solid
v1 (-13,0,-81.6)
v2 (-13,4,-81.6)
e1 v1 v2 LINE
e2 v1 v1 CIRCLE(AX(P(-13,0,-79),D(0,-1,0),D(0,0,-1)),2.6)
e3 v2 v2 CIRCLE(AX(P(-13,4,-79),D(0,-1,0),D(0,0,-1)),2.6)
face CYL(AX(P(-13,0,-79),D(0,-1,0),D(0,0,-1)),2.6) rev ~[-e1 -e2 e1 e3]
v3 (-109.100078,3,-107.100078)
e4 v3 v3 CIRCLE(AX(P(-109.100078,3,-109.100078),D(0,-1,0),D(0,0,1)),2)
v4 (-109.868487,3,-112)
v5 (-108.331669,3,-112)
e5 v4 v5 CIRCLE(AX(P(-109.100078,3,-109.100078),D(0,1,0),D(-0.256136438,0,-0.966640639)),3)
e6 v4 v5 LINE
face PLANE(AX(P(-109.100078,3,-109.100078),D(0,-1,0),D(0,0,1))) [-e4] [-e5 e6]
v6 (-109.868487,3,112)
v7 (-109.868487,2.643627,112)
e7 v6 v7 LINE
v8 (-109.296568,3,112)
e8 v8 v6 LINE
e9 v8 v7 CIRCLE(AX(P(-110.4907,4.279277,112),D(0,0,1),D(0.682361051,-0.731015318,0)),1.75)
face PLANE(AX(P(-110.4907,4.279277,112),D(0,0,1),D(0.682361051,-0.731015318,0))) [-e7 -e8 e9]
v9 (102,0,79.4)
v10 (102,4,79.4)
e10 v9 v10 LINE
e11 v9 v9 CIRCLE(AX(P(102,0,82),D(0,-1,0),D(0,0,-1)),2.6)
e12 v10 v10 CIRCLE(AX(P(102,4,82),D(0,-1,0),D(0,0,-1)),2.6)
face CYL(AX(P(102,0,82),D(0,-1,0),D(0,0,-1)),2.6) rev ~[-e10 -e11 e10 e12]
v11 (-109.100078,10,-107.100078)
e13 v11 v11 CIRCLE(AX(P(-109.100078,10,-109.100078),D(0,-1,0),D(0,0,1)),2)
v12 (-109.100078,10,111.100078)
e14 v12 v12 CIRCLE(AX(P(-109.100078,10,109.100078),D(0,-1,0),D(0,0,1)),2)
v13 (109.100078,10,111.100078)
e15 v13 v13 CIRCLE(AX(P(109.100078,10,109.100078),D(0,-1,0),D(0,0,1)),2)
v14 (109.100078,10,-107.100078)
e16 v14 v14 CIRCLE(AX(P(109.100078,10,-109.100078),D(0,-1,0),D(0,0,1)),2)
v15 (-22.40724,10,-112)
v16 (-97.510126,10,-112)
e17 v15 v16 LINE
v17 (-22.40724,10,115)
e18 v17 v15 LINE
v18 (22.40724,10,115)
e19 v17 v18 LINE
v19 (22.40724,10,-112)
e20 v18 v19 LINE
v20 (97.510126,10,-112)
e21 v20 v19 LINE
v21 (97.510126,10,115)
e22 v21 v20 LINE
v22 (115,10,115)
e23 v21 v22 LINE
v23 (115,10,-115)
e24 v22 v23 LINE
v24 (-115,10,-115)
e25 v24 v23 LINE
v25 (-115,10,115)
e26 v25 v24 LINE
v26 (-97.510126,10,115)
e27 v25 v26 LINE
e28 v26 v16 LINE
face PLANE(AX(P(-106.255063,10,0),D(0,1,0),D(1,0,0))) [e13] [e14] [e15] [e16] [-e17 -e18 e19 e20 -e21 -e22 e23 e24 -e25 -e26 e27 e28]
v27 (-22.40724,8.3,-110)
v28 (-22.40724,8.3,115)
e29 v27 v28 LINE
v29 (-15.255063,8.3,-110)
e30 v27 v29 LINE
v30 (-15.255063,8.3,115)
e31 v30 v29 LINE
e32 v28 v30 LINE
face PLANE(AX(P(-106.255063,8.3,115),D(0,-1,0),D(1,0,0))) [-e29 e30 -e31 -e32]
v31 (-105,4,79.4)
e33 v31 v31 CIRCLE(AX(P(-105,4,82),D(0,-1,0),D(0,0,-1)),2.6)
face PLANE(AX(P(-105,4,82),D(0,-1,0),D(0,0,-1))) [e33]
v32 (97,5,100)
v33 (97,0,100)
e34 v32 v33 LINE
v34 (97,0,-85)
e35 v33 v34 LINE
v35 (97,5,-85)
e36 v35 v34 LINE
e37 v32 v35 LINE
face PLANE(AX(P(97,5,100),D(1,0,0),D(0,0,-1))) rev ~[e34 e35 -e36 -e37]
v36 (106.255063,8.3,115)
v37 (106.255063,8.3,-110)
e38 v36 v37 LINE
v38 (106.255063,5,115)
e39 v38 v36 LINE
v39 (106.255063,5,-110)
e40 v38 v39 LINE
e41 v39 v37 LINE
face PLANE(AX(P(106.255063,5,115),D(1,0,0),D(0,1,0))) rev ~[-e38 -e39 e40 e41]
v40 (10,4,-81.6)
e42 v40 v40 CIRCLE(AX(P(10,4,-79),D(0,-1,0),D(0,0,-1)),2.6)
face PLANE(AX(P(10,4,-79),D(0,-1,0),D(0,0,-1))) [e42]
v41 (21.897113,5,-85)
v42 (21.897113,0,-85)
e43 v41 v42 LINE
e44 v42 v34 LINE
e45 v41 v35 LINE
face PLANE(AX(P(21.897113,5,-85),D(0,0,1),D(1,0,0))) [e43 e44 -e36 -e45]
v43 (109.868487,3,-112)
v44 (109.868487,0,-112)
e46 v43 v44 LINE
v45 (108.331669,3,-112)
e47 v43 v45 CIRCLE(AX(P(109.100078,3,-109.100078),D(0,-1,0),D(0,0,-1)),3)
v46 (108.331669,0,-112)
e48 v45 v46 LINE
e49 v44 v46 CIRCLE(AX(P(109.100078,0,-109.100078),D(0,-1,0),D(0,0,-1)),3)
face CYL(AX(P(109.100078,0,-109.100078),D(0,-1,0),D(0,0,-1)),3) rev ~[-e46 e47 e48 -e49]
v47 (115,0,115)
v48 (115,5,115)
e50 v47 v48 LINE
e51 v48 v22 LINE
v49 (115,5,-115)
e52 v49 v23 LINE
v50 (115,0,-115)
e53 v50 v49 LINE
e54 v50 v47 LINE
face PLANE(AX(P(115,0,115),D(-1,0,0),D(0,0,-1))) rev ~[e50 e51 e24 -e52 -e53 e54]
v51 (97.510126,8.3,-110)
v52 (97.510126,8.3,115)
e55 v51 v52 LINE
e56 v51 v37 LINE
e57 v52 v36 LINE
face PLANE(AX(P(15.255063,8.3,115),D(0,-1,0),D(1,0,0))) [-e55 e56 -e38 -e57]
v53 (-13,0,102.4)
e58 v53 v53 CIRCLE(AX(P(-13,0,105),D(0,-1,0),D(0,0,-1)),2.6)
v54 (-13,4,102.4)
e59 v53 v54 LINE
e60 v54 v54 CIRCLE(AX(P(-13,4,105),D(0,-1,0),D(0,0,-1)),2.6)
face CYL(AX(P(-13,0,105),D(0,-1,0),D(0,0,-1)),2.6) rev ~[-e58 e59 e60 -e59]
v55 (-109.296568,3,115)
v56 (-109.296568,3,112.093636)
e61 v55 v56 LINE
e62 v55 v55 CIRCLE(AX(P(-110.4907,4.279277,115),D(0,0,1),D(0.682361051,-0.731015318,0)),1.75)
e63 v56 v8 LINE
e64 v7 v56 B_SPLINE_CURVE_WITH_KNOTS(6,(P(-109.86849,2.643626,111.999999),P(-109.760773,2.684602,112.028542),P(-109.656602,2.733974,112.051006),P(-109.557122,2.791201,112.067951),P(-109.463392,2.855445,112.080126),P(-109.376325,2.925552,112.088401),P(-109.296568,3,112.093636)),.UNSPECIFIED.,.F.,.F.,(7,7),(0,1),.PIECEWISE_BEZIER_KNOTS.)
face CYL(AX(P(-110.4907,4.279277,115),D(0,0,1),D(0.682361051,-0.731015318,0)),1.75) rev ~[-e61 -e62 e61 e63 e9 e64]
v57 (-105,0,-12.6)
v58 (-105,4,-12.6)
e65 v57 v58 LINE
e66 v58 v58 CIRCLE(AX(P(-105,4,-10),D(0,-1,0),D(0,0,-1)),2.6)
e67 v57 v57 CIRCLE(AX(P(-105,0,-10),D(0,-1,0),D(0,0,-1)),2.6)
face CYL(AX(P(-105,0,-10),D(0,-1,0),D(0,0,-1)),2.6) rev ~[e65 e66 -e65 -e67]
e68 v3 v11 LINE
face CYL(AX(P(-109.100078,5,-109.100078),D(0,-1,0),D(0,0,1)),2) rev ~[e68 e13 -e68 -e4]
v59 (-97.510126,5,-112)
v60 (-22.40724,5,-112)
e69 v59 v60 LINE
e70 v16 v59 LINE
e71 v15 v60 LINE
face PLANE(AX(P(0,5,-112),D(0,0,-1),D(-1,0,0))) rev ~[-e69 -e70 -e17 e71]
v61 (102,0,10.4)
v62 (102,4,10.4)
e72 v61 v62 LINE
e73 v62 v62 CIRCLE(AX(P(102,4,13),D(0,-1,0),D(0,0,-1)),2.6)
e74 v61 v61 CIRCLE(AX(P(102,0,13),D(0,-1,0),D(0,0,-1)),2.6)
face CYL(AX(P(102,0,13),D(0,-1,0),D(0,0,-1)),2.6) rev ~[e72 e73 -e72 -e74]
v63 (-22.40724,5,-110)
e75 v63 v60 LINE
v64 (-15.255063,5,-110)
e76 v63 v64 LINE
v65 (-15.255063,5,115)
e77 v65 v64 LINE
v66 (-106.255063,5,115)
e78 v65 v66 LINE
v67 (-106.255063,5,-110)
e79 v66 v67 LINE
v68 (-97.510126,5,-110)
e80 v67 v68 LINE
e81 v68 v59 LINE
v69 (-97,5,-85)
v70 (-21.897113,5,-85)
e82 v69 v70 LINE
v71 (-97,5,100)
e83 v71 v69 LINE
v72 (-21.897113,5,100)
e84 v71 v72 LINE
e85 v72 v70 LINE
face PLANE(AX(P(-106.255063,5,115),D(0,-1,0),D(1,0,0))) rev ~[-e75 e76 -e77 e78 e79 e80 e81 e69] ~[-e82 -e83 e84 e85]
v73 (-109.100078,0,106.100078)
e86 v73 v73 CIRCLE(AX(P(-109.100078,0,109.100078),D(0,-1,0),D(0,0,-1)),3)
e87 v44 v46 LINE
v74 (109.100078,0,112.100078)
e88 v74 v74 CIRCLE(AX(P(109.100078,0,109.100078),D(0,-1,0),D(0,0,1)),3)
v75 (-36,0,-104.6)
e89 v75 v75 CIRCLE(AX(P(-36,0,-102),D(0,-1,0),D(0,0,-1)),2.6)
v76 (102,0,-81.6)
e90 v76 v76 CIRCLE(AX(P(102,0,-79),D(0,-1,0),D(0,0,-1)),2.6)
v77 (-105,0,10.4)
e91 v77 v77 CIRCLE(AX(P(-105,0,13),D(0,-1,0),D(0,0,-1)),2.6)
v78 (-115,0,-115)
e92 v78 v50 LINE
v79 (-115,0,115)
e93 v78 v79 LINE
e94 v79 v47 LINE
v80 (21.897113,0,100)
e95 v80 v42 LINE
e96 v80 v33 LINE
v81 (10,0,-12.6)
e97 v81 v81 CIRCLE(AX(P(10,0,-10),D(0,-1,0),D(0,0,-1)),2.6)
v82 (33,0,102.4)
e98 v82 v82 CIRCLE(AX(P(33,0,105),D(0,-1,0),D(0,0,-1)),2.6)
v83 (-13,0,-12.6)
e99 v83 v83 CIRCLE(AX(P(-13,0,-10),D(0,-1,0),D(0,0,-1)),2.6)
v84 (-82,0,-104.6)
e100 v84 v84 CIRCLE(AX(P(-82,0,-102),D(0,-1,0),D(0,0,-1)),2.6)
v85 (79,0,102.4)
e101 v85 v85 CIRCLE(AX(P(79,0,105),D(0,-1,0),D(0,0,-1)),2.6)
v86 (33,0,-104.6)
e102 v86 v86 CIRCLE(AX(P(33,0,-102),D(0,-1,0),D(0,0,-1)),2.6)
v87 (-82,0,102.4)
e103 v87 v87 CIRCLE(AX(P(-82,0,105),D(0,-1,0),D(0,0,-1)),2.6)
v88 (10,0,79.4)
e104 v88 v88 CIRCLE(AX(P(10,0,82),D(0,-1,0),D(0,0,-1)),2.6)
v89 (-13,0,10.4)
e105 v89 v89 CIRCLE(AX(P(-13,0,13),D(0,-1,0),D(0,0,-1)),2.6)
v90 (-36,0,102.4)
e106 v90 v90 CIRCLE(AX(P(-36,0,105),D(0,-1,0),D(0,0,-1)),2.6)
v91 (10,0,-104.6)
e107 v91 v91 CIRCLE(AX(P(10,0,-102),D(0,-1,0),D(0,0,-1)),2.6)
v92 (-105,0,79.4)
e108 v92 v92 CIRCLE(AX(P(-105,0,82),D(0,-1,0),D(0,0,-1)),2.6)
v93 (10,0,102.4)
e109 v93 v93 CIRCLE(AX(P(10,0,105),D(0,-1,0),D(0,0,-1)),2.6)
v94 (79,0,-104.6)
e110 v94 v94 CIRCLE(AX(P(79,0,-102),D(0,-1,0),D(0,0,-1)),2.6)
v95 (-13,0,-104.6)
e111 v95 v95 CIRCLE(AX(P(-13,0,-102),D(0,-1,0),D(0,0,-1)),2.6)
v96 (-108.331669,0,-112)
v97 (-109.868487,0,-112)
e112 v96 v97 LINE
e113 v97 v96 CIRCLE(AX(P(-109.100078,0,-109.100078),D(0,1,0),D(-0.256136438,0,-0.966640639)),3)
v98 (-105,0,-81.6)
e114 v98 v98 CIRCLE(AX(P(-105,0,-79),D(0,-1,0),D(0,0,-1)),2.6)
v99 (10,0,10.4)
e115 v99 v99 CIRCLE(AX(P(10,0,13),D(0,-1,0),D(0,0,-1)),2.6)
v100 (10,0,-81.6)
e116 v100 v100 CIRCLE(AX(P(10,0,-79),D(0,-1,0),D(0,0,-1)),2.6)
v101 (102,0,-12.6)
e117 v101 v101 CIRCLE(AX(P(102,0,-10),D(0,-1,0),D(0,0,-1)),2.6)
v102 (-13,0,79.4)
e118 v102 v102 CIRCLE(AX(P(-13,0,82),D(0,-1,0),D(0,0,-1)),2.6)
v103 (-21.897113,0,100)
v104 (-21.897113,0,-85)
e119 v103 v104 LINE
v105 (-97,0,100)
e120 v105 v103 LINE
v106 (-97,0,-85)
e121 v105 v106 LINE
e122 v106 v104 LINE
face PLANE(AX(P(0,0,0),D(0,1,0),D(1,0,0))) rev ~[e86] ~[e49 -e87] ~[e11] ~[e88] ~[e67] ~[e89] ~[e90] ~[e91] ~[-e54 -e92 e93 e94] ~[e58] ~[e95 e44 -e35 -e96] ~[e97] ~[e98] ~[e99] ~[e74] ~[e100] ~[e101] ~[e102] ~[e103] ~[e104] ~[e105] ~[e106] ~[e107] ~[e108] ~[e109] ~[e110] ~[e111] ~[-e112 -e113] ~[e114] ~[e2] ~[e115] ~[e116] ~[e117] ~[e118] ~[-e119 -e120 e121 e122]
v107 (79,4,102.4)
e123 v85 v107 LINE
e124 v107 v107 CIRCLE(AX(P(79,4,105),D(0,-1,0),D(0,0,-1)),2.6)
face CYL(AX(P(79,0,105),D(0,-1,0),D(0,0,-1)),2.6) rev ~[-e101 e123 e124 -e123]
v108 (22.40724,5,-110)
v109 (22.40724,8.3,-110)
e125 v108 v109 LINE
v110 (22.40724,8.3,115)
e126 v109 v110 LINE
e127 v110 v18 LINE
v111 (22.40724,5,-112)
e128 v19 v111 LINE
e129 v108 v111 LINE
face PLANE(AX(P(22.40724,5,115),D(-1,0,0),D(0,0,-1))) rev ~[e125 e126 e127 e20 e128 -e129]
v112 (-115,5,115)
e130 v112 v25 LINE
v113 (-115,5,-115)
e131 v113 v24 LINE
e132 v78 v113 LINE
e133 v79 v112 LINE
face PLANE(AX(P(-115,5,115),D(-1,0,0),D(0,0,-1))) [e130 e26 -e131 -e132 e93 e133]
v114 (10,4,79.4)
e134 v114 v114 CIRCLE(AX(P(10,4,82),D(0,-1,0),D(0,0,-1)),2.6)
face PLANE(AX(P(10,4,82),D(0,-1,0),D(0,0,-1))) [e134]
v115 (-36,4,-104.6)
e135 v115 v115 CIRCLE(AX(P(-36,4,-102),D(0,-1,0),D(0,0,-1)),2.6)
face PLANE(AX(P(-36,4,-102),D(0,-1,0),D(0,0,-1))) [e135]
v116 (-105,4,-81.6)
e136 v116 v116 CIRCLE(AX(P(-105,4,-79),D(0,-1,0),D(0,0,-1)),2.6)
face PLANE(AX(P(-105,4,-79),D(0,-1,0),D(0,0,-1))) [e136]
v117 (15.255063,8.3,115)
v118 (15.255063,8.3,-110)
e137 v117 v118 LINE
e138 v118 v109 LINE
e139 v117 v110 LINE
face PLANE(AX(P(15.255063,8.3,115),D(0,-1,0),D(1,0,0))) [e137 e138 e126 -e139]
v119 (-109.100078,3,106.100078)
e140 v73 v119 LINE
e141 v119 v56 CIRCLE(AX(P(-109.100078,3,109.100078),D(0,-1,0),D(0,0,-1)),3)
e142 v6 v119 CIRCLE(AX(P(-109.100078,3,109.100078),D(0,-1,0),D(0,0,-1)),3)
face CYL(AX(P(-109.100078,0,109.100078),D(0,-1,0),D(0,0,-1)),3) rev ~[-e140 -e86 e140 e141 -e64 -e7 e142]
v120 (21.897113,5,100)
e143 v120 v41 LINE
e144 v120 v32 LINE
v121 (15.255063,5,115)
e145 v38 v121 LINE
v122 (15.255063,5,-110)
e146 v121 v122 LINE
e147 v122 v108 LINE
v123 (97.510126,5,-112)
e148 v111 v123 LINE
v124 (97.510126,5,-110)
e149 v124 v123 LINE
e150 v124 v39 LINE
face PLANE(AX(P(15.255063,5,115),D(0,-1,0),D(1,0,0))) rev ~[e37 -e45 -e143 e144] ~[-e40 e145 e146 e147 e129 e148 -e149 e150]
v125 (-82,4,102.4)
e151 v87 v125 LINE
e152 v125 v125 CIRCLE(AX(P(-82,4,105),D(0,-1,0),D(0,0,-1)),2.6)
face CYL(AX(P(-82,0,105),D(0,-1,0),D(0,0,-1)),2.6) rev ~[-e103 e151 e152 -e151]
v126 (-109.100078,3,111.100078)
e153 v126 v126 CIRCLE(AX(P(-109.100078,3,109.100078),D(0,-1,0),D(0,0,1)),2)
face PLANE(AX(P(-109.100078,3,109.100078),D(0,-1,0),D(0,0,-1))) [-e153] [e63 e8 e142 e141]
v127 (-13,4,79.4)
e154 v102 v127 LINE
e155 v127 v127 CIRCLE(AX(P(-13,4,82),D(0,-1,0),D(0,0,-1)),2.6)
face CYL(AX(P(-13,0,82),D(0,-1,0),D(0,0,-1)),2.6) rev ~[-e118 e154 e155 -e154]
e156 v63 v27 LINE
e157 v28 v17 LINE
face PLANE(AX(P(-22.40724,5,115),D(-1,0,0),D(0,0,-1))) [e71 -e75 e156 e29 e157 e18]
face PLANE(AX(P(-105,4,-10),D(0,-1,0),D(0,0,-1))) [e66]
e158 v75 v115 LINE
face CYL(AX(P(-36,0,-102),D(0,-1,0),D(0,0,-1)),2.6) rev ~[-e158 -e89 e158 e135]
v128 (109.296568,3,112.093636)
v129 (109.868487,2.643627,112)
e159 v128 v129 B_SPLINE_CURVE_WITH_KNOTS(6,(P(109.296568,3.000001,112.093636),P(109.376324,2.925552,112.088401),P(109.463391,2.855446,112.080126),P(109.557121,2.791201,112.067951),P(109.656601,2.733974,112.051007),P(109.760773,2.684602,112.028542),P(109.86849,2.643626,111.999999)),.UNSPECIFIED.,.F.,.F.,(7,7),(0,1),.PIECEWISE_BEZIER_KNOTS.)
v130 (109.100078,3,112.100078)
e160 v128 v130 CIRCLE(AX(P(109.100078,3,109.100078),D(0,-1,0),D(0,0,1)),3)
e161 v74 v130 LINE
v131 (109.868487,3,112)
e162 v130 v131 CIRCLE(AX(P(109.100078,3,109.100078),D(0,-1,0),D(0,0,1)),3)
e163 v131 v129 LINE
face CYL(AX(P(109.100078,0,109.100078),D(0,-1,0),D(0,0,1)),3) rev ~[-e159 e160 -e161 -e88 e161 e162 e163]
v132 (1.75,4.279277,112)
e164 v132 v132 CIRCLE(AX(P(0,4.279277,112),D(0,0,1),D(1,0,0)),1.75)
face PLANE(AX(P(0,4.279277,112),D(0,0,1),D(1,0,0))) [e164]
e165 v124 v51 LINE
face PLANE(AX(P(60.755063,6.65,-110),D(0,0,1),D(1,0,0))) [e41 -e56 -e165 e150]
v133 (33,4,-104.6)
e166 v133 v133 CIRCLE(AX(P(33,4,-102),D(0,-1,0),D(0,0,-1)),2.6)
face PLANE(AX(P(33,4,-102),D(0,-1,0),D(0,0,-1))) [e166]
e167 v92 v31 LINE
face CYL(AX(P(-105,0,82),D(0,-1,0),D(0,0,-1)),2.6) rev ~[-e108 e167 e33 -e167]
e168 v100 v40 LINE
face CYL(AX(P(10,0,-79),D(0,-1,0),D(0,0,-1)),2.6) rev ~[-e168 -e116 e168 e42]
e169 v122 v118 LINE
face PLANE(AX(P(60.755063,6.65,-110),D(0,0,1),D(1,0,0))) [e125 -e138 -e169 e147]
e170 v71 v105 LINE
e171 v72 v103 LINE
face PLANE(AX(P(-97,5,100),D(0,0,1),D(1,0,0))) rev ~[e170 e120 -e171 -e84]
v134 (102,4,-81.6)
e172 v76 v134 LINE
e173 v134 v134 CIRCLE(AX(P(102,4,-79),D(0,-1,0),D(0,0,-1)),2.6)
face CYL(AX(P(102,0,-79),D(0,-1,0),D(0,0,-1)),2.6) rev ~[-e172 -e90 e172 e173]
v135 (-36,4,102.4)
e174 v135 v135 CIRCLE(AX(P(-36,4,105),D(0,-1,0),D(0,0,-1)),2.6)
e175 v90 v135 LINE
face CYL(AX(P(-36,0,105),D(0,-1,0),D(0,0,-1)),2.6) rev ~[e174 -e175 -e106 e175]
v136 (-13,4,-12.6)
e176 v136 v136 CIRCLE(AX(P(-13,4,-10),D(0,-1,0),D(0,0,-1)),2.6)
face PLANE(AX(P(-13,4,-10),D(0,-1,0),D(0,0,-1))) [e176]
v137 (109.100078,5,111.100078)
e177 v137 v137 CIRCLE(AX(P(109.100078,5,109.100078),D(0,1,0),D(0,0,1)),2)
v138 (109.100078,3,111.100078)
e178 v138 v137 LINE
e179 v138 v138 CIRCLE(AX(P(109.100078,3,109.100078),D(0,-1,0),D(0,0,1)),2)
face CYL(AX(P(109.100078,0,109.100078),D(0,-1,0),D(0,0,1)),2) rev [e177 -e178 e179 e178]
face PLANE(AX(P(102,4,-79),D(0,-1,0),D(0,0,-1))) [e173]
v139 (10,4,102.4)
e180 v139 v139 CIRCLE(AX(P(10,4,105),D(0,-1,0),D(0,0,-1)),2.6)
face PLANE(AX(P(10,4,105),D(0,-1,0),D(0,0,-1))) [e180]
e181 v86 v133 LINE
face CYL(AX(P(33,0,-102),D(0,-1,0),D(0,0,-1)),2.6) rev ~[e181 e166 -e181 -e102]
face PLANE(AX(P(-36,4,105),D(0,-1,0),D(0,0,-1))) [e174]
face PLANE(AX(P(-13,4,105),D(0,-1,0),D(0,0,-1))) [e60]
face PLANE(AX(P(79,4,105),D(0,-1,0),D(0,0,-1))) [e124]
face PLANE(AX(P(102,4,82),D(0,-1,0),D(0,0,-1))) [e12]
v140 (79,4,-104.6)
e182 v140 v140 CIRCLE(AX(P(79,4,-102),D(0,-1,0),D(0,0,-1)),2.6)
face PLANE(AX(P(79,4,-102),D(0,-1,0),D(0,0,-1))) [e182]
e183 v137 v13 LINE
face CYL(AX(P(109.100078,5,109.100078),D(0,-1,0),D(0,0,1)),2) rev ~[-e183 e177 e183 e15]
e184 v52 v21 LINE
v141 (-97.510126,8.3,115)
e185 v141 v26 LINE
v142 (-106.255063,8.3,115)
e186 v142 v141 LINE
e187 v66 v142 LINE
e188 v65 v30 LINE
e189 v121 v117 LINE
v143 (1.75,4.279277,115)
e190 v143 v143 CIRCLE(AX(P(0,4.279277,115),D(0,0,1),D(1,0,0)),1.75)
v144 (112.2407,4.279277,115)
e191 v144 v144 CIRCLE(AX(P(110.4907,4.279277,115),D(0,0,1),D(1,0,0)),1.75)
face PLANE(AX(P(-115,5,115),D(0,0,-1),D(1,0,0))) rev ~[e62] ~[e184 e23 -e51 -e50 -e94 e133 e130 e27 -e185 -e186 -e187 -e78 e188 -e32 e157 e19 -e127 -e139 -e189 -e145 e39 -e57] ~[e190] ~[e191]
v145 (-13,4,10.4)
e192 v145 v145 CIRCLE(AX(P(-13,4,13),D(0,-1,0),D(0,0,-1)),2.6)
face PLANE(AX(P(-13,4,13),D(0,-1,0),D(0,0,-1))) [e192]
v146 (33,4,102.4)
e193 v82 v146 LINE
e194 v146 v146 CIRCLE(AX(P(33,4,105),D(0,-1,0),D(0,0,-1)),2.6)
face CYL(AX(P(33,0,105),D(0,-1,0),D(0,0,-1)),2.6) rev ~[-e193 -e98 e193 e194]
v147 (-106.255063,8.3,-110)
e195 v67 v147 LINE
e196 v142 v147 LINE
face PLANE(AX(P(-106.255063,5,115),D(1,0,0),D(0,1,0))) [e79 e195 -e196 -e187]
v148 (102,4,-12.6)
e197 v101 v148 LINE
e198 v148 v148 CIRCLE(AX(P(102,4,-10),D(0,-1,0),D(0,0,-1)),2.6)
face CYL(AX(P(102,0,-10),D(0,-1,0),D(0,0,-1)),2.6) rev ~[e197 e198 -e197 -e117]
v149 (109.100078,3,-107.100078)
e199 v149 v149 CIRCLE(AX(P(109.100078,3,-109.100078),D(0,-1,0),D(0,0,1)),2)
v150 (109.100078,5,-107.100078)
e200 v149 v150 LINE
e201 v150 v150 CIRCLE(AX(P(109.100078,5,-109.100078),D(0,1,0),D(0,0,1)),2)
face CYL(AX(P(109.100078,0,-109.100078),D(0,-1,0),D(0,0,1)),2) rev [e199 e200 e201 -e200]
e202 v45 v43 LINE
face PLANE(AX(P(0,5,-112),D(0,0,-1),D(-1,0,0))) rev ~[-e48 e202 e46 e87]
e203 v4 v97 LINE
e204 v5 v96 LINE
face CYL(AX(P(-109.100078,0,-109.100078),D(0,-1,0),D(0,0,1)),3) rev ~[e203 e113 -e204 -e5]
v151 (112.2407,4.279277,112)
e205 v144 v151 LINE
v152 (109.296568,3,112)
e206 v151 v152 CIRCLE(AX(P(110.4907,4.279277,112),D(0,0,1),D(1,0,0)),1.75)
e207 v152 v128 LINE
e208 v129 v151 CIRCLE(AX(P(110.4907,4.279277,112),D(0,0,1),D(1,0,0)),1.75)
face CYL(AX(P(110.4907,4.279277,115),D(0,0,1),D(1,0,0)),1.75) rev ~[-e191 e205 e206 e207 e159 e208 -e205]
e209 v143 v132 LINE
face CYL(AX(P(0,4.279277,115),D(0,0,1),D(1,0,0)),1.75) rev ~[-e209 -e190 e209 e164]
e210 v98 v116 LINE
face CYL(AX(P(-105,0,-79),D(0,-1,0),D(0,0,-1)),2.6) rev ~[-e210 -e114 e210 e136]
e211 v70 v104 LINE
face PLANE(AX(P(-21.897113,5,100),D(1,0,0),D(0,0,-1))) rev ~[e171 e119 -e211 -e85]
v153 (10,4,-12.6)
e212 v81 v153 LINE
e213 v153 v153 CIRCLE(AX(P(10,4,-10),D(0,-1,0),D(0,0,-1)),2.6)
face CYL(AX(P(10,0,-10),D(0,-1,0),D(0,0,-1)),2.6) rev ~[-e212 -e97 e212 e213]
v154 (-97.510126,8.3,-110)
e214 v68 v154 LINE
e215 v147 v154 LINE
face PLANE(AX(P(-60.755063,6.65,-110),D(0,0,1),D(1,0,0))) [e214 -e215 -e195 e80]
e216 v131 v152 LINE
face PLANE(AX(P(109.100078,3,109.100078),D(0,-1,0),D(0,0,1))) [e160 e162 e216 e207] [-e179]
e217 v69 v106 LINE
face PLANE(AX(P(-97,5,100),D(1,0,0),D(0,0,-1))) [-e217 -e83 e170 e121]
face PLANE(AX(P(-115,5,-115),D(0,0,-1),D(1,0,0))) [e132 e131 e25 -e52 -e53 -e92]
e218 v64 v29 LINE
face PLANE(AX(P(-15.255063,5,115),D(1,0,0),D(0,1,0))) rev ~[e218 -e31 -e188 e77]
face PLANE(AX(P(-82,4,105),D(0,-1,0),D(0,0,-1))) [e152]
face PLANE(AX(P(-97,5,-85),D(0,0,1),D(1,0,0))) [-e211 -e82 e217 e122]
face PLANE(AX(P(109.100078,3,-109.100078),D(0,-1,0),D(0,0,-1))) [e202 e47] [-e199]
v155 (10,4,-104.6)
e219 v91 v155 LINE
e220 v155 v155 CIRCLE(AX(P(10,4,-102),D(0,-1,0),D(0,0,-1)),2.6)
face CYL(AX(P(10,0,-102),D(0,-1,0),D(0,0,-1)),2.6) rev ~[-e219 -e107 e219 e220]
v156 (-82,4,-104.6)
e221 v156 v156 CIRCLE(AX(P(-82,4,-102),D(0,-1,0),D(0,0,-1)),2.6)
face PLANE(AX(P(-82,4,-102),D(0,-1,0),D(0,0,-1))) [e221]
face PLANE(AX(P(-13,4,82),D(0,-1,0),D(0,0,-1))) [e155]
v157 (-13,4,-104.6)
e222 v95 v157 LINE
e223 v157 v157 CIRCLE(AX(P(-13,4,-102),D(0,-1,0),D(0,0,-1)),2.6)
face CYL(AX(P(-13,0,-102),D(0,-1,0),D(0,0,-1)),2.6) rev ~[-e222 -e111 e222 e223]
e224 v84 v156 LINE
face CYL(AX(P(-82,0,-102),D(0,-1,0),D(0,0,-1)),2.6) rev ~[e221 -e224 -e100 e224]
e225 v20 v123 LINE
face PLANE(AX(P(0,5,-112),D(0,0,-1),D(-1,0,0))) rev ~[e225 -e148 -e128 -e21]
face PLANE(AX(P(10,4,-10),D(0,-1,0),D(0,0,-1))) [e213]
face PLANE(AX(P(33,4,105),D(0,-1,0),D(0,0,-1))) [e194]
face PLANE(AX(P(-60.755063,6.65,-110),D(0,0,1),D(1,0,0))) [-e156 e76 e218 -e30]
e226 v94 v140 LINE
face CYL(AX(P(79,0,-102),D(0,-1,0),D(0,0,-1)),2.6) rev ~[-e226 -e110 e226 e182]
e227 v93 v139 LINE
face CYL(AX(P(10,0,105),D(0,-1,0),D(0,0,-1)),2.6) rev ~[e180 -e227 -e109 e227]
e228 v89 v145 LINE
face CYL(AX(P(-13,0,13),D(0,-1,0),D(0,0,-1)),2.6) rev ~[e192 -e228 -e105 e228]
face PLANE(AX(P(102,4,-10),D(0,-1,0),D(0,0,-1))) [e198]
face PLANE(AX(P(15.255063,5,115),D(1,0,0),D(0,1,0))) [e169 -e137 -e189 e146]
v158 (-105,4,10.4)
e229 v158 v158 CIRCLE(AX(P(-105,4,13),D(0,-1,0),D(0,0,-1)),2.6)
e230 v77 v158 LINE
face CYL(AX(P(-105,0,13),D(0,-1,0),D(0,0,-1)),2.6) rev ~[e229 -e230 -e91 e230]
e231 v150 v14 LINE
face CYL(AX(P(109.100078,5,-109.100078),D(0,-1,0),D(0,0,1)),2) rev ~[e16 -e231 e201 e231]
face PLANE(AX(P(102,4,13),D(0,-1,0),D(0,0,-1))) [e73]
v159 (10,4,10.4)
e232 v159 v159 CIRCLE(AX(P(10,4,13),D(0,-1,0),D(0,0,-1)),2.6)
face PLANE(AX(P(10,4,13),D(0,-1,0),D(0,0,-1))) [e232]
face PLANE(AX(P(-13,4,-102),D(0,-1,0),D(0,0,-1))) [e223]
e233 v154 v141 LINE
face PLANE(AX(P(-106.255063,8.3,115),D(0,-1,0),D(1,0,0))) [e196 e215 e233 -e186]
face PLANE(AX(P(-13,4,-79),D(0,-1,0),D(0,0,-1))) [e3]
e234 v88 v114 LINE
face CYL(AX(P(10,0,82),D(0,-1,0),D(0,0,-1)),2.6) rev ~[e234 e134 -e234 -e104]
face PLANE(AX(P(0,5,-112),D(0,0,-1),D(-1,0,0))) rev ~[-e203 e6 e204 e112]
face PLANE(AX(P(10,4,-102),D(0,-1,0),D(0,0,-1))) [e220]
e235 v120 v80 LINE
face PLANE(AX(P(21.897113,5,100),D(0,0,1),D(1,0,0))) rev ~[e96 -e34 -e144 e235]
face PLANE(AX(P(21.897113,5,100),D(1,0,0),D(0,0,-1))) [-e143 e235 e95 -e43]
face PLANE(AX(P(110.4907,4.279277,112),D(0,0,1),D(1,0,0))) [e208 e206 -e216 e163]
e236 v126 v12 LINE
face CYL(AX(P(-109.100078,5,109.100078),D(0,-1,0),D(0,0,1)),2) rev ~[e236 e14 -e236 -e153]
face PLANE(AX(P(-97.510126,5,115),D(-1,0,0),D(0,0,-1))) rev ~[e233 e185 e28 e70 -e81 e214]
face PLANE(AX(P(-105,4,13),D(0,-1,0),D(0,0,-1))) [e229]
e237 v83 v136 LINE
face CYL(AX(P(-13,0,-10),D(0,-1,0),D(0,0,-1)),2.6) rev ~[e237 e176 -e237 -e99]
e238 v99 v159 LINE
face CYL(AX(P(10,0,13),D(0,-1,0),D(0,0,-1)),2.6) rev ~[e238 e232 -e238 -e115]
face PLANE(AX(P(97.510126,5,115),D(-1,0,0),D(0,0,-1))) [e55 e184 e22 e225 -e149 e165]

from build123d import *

# Parameters (mm, degrees)
CROQUIS1_W              = 230
CROQUIS1_H              = 230
CROQUIS1_R              = 2
SALIENTE_EXTRUIR1_DEPTH = 5
CROQUIS2_W              = 17.489873555
CROQUIS2_H              = 230
CROQUIS2_W_2            = 44.814479666
SALIENTE_EXTRUIR2_DEPTH = 5
CROQUIS3_W              = 91
CROQUIS3_H              = 3.3
CORTAR_EXTRUIR1_DEPTH   = 225
CROQUIS4_W              = 75.102886612
CROQUIS4_H              = 185
CORTAR_EXTRUIR2_DEPTH   = 256
CROQUIS5_R              = 2.6
CORTAR_EXTRUIR3_DEPTH   = 4
CROQUIS13_R             = 2
CORTAR_EXTRUIR5_DEPTH   = 88
CROQUIS14_R             = 3
CORTAR_EXTRUIR6_DEPTH   = 3
CROQUIS16_R             = 1.75
CORTAR_EXTRUIR7_DEPTH   = 3
CROQUIS18_W             = 230
CROQUIS18_H             = 10
SALIENTE_EXTRUIR4_DEPTH = 3


with BuildPart() as part:
    # Croquis1 → Saliente-Extruir1 (new body)
    with BuildSketch(Plane(origin=(0, 0, 0), x_dir=(1, 0, 0), z_dir=(0, 1, 0))):
        Rectangle(CROQUIS1_W, CROQUIS1_H)
        with Locations(Location((109.100078083, 109.100078083, 0), (0, 0, 270))):
            Circle(CROQUIS1_R, mode=Mode.SUBTRACT)
        with Locations(Location((-109.100078083, 109.100078083, 0), (0, 0, 270))):
            Circle(CROQUIS1_R, mode=Mode.SUBTRACT)
        with Locations(Location((-109.100078083, -109.100078083, 0), (0, 0, 270))):
            Circle(CROQUIS1_R, mode=Mode.SUBTRACT)
        with Locations(Location((109.100078083, -109.100078083, 0), (0, 0, 270))):
            Circle(CROQUIS1_R, mode=Mode.SUBTRACT)
    extrude(amount=SALIENTE_EXTRUIR1_DEPTH)

    # Croquis2 → Saliente-Extruir2 (add)
    with BuildSketch(Plane(origin=(0, 5, 0), x_dir=(1, 0, 0), z_dir=(0, 1, 0))):
        with Locations((-106.255063223, 0)):
            Rectangle(CROQUIS2_W, CROQUIS2_H)
        Rectangle(CROQUIS2_W_2, CROQUIS2_H)
        with Locations((106.255063223, 0)):
            Rectangle(CROQUIS2_W, CROQUIS2_H)
    extrude(amount=SALIENTE_EXTRUIR2_DEPTH)

    # Croquis3 → Cortar-Extruir1 (cut)
    with BuildSketch(Plane.XY.offset(115)):
        with Locations((-60.755063223, 6.65)):
            Rectangle(CROQUIS3_W, CROQUIS3_H)
        with Locations((60.755063223, 6.65)):
            Rectangle(CROQUIS3_W, CROQUIS3_H)
    extrude(amount=-CORTAR_EXTRUIR1_DEPTH, mode=Mode.SUBTRACT)

    # Croquis4 → Cortar-Extruir2 (cut)
    with BuildSketch(Plane(origin=(0, 5, 0), x_dir=(1, 0, 0), z_dir=(0, 1, 0))):
        with Locations((-59.448556694, -7.5)):
            Rectangle(CROQUIS4_W, CROQUIS4_H)
        with Locations((59.448556694, -7.5)):
            Rectangle(CROQUIS4_W, CROQUIS4_H)
    extrude(amount=-CORTAR_EXTRUIR2_DEPTH, mode=Mode.SUBTRACT)

    # Croquis5 → Cortar-Extruir3 (cut)
    with BuildSketch(Plane.XZ):
        with Locations(Location((-82, 105, 0), (0, 0, 270))):
            Circle(CROQUIS5_R)
        with Locations(Location((-36, 105, 0), (0, 0, 270))):
            Circle(CROQUIS5_R)
        with Locations(Location((-13, 105, 0), (0, 0, 270))):
            Circle(CROQUIS5_R)
        with Locations(Location((10, 105, 0), (0, 0, 270))):
            Circle(CROQUIS5_R)
        with Locations(Location((33, 105, 0), (0, 0, 270))):
            Circle(CROQUIS5_R)
        with Locations(Location((79, 105, 0), (0, 0, 270))):
            Circle(CROQUIS5_R)
        with Locations(Location((-13, 82, 0), (0, 0, 270))):
            Circle(CROQUIS5_R)
        with Locations(Location((10, 82, 0), (0, 0, 270))):
            Circle(CROQUIS5_R)
        with Locations(Location((102, 82, 0), (0, 0, 270))):
            Circle(CROQUIS5_R)
        with Locations(Location((-13, 13, 0), (0, 0, 270))):
            Circle(CROQUIS5_R)
        with Locations(Location((10, 13, 0), (0, 0, 270))):
            Circle(CROQUIS5_R)
        with Locations(Location((102, 13, 0), (0, 0, 270))):
            Circle(CROQUIS5_R)
        with Locations(Location((-13, -10, 0), (0, 0, 270))):
            Circle(CROQUIS5_R)
        with Locations(Location((10, -10, 0), (0, 0, 270))):
            Circle(CROQUIS5_R)
        with Locations(Location((102, -10, 0), (0, 0, 270))):
            Circle(CROQUIS5_R)
        with Locations(Location((-13, -79, 0), (0, 0, 270))):
            Circle(CROQUIS5_R)
        with Locations(Location((10, -79, 0), (0, 0, 270))):
            Circle(CROQUIS5_R)
        with Locations(Location((102, -79, 0), (0, 0, 270))):
            Circle(CROQUIS5_R)
        with Locations(Location((-82, -102, 0), (0, 0, 270))):
            Circle(CROQUIS5_R)
        with Locations(Location((-36, -102, 0), (0, 0, 270))):
            Circle(CROQUIS5_R)
        with Locations(Location((-13, -102, 0), (0, 0, 270))):
            Circle(CROQUIS5_R)
        with Locations(Location((10, -102, 0), (0, 0, 270))):
            Circle(CROQUIS5_R)
        with Locations(Location((33, -102, 0), (0, 0, 270))):
            Circle(CROQUIS5_R)
        with Locations(Location((79, -102, 0), (0, 0, 270))):
            Circle(CROQUIS5_R)
        with Locations(Location((-105, 82, 0), (0, 0, 270))):
            Circle(CROQUIS5_R)
        with Locations(Location((-105, 13, 0), (0, 0, 270))):
            Circle(CROQUIS5_R)
        with Locations(Location((-105, -10, 0), (0, 0, 270))):
            Circle(CROQUIS5_R)
        with Locations(Location((-105, -79, 0), (0, 0, 270))):
            Circle(CROQUIS5_R)
    extrude(amount=-CORTAR_EXTRUIR3_DEPTH, mode=Mode.SUBTRACT)

    # Croquis13 → Cortar-Extruir5 (cut)
    with BuildSketch(Plane.XZ.offset(-5)):
        with Locations(Location((-109.100078083, 109.100078083, 0), (0, 0, 90))):
            Circle(CROQUIS13_R)
        with Locations(Location((109.100078083, 109.100078083, 0), (0, 0, 90))):
            Circle(CROQUIS13_R)
        with Locations(Location((109.100078083, -109.100078083, 0), (0, 0, 90))):
            Circle(CROQUIS13_R)
        with Locations(Location((-109.100078083, -109.100078083, 0), (0, 0, 90))):
            Circle(CROQUIS13_R)
    extrude(amount=-CORTAR_EXTRUIR5_DEPTH, mode=Mode.SUBTRACT)

    # Croquis14 → Cortar-Extruir6 (cut)
    with BuildSketch(Plane(origin=(0, 0, 0), x_dir=(-1, 0, 0), z_dir=(0, -1, 0))):
        with Locations(Location((109.100078083, -109.100078083, 0), (0, 0, 90))):
            Circle(CROQUIS14_R)
        with Locations(Location((-109.100078083, -109.100078083, 0), (0, 0, 270))):
            Circle(CROQUIS14_R)
        with Locations(Location((-109.100078083, 109.100078083, 0), (0, 0, 90))):
            Circle(CROQUIS14_R)
        with Locations(Location((109.100078083, 109.100078083, 0), (0, 0, 270))):
            Circle(CROQUIS14_R)
    extrude(amount=-CORTAR_EXTRUIR6_DEPTH, mode=Mode.SUBTRACT)

    # Croquis16 → Cortar-Extruir7 (cut)
    with BuildSketch(Plane.XY.offset(115)):
        with Locations((0, 4.279276807)):
            Circle(CROQUIS16_R)
        with Locations((110.490700251, 4.279276807)):
            Circle(CROQUIS16_R)
        with Locations(Location((-110.490700251, 4.279276807, 0), (0, 0, 313.028420556))):
            Circle(CROQUIS16_R)
    extrude(amount=-CORTAR_EXTRUIR7_DEPTH, mode=Mode.SUBTRACT)

    # Croquis18 → Saliente-Extruir4 (add)
    with BuildSketch(Plane(origin=(0, 0, -115), x_dir=(-1, 0, 0), z_dir=(0, 0, -1))):
        with Locations((0, 5)):
            Rectangle(CROQUIS18_W, CROQUIS18_H)
    extrude(amount=-SALIENTE_EXTRUIR4_DEPTH)


solid = part.part
